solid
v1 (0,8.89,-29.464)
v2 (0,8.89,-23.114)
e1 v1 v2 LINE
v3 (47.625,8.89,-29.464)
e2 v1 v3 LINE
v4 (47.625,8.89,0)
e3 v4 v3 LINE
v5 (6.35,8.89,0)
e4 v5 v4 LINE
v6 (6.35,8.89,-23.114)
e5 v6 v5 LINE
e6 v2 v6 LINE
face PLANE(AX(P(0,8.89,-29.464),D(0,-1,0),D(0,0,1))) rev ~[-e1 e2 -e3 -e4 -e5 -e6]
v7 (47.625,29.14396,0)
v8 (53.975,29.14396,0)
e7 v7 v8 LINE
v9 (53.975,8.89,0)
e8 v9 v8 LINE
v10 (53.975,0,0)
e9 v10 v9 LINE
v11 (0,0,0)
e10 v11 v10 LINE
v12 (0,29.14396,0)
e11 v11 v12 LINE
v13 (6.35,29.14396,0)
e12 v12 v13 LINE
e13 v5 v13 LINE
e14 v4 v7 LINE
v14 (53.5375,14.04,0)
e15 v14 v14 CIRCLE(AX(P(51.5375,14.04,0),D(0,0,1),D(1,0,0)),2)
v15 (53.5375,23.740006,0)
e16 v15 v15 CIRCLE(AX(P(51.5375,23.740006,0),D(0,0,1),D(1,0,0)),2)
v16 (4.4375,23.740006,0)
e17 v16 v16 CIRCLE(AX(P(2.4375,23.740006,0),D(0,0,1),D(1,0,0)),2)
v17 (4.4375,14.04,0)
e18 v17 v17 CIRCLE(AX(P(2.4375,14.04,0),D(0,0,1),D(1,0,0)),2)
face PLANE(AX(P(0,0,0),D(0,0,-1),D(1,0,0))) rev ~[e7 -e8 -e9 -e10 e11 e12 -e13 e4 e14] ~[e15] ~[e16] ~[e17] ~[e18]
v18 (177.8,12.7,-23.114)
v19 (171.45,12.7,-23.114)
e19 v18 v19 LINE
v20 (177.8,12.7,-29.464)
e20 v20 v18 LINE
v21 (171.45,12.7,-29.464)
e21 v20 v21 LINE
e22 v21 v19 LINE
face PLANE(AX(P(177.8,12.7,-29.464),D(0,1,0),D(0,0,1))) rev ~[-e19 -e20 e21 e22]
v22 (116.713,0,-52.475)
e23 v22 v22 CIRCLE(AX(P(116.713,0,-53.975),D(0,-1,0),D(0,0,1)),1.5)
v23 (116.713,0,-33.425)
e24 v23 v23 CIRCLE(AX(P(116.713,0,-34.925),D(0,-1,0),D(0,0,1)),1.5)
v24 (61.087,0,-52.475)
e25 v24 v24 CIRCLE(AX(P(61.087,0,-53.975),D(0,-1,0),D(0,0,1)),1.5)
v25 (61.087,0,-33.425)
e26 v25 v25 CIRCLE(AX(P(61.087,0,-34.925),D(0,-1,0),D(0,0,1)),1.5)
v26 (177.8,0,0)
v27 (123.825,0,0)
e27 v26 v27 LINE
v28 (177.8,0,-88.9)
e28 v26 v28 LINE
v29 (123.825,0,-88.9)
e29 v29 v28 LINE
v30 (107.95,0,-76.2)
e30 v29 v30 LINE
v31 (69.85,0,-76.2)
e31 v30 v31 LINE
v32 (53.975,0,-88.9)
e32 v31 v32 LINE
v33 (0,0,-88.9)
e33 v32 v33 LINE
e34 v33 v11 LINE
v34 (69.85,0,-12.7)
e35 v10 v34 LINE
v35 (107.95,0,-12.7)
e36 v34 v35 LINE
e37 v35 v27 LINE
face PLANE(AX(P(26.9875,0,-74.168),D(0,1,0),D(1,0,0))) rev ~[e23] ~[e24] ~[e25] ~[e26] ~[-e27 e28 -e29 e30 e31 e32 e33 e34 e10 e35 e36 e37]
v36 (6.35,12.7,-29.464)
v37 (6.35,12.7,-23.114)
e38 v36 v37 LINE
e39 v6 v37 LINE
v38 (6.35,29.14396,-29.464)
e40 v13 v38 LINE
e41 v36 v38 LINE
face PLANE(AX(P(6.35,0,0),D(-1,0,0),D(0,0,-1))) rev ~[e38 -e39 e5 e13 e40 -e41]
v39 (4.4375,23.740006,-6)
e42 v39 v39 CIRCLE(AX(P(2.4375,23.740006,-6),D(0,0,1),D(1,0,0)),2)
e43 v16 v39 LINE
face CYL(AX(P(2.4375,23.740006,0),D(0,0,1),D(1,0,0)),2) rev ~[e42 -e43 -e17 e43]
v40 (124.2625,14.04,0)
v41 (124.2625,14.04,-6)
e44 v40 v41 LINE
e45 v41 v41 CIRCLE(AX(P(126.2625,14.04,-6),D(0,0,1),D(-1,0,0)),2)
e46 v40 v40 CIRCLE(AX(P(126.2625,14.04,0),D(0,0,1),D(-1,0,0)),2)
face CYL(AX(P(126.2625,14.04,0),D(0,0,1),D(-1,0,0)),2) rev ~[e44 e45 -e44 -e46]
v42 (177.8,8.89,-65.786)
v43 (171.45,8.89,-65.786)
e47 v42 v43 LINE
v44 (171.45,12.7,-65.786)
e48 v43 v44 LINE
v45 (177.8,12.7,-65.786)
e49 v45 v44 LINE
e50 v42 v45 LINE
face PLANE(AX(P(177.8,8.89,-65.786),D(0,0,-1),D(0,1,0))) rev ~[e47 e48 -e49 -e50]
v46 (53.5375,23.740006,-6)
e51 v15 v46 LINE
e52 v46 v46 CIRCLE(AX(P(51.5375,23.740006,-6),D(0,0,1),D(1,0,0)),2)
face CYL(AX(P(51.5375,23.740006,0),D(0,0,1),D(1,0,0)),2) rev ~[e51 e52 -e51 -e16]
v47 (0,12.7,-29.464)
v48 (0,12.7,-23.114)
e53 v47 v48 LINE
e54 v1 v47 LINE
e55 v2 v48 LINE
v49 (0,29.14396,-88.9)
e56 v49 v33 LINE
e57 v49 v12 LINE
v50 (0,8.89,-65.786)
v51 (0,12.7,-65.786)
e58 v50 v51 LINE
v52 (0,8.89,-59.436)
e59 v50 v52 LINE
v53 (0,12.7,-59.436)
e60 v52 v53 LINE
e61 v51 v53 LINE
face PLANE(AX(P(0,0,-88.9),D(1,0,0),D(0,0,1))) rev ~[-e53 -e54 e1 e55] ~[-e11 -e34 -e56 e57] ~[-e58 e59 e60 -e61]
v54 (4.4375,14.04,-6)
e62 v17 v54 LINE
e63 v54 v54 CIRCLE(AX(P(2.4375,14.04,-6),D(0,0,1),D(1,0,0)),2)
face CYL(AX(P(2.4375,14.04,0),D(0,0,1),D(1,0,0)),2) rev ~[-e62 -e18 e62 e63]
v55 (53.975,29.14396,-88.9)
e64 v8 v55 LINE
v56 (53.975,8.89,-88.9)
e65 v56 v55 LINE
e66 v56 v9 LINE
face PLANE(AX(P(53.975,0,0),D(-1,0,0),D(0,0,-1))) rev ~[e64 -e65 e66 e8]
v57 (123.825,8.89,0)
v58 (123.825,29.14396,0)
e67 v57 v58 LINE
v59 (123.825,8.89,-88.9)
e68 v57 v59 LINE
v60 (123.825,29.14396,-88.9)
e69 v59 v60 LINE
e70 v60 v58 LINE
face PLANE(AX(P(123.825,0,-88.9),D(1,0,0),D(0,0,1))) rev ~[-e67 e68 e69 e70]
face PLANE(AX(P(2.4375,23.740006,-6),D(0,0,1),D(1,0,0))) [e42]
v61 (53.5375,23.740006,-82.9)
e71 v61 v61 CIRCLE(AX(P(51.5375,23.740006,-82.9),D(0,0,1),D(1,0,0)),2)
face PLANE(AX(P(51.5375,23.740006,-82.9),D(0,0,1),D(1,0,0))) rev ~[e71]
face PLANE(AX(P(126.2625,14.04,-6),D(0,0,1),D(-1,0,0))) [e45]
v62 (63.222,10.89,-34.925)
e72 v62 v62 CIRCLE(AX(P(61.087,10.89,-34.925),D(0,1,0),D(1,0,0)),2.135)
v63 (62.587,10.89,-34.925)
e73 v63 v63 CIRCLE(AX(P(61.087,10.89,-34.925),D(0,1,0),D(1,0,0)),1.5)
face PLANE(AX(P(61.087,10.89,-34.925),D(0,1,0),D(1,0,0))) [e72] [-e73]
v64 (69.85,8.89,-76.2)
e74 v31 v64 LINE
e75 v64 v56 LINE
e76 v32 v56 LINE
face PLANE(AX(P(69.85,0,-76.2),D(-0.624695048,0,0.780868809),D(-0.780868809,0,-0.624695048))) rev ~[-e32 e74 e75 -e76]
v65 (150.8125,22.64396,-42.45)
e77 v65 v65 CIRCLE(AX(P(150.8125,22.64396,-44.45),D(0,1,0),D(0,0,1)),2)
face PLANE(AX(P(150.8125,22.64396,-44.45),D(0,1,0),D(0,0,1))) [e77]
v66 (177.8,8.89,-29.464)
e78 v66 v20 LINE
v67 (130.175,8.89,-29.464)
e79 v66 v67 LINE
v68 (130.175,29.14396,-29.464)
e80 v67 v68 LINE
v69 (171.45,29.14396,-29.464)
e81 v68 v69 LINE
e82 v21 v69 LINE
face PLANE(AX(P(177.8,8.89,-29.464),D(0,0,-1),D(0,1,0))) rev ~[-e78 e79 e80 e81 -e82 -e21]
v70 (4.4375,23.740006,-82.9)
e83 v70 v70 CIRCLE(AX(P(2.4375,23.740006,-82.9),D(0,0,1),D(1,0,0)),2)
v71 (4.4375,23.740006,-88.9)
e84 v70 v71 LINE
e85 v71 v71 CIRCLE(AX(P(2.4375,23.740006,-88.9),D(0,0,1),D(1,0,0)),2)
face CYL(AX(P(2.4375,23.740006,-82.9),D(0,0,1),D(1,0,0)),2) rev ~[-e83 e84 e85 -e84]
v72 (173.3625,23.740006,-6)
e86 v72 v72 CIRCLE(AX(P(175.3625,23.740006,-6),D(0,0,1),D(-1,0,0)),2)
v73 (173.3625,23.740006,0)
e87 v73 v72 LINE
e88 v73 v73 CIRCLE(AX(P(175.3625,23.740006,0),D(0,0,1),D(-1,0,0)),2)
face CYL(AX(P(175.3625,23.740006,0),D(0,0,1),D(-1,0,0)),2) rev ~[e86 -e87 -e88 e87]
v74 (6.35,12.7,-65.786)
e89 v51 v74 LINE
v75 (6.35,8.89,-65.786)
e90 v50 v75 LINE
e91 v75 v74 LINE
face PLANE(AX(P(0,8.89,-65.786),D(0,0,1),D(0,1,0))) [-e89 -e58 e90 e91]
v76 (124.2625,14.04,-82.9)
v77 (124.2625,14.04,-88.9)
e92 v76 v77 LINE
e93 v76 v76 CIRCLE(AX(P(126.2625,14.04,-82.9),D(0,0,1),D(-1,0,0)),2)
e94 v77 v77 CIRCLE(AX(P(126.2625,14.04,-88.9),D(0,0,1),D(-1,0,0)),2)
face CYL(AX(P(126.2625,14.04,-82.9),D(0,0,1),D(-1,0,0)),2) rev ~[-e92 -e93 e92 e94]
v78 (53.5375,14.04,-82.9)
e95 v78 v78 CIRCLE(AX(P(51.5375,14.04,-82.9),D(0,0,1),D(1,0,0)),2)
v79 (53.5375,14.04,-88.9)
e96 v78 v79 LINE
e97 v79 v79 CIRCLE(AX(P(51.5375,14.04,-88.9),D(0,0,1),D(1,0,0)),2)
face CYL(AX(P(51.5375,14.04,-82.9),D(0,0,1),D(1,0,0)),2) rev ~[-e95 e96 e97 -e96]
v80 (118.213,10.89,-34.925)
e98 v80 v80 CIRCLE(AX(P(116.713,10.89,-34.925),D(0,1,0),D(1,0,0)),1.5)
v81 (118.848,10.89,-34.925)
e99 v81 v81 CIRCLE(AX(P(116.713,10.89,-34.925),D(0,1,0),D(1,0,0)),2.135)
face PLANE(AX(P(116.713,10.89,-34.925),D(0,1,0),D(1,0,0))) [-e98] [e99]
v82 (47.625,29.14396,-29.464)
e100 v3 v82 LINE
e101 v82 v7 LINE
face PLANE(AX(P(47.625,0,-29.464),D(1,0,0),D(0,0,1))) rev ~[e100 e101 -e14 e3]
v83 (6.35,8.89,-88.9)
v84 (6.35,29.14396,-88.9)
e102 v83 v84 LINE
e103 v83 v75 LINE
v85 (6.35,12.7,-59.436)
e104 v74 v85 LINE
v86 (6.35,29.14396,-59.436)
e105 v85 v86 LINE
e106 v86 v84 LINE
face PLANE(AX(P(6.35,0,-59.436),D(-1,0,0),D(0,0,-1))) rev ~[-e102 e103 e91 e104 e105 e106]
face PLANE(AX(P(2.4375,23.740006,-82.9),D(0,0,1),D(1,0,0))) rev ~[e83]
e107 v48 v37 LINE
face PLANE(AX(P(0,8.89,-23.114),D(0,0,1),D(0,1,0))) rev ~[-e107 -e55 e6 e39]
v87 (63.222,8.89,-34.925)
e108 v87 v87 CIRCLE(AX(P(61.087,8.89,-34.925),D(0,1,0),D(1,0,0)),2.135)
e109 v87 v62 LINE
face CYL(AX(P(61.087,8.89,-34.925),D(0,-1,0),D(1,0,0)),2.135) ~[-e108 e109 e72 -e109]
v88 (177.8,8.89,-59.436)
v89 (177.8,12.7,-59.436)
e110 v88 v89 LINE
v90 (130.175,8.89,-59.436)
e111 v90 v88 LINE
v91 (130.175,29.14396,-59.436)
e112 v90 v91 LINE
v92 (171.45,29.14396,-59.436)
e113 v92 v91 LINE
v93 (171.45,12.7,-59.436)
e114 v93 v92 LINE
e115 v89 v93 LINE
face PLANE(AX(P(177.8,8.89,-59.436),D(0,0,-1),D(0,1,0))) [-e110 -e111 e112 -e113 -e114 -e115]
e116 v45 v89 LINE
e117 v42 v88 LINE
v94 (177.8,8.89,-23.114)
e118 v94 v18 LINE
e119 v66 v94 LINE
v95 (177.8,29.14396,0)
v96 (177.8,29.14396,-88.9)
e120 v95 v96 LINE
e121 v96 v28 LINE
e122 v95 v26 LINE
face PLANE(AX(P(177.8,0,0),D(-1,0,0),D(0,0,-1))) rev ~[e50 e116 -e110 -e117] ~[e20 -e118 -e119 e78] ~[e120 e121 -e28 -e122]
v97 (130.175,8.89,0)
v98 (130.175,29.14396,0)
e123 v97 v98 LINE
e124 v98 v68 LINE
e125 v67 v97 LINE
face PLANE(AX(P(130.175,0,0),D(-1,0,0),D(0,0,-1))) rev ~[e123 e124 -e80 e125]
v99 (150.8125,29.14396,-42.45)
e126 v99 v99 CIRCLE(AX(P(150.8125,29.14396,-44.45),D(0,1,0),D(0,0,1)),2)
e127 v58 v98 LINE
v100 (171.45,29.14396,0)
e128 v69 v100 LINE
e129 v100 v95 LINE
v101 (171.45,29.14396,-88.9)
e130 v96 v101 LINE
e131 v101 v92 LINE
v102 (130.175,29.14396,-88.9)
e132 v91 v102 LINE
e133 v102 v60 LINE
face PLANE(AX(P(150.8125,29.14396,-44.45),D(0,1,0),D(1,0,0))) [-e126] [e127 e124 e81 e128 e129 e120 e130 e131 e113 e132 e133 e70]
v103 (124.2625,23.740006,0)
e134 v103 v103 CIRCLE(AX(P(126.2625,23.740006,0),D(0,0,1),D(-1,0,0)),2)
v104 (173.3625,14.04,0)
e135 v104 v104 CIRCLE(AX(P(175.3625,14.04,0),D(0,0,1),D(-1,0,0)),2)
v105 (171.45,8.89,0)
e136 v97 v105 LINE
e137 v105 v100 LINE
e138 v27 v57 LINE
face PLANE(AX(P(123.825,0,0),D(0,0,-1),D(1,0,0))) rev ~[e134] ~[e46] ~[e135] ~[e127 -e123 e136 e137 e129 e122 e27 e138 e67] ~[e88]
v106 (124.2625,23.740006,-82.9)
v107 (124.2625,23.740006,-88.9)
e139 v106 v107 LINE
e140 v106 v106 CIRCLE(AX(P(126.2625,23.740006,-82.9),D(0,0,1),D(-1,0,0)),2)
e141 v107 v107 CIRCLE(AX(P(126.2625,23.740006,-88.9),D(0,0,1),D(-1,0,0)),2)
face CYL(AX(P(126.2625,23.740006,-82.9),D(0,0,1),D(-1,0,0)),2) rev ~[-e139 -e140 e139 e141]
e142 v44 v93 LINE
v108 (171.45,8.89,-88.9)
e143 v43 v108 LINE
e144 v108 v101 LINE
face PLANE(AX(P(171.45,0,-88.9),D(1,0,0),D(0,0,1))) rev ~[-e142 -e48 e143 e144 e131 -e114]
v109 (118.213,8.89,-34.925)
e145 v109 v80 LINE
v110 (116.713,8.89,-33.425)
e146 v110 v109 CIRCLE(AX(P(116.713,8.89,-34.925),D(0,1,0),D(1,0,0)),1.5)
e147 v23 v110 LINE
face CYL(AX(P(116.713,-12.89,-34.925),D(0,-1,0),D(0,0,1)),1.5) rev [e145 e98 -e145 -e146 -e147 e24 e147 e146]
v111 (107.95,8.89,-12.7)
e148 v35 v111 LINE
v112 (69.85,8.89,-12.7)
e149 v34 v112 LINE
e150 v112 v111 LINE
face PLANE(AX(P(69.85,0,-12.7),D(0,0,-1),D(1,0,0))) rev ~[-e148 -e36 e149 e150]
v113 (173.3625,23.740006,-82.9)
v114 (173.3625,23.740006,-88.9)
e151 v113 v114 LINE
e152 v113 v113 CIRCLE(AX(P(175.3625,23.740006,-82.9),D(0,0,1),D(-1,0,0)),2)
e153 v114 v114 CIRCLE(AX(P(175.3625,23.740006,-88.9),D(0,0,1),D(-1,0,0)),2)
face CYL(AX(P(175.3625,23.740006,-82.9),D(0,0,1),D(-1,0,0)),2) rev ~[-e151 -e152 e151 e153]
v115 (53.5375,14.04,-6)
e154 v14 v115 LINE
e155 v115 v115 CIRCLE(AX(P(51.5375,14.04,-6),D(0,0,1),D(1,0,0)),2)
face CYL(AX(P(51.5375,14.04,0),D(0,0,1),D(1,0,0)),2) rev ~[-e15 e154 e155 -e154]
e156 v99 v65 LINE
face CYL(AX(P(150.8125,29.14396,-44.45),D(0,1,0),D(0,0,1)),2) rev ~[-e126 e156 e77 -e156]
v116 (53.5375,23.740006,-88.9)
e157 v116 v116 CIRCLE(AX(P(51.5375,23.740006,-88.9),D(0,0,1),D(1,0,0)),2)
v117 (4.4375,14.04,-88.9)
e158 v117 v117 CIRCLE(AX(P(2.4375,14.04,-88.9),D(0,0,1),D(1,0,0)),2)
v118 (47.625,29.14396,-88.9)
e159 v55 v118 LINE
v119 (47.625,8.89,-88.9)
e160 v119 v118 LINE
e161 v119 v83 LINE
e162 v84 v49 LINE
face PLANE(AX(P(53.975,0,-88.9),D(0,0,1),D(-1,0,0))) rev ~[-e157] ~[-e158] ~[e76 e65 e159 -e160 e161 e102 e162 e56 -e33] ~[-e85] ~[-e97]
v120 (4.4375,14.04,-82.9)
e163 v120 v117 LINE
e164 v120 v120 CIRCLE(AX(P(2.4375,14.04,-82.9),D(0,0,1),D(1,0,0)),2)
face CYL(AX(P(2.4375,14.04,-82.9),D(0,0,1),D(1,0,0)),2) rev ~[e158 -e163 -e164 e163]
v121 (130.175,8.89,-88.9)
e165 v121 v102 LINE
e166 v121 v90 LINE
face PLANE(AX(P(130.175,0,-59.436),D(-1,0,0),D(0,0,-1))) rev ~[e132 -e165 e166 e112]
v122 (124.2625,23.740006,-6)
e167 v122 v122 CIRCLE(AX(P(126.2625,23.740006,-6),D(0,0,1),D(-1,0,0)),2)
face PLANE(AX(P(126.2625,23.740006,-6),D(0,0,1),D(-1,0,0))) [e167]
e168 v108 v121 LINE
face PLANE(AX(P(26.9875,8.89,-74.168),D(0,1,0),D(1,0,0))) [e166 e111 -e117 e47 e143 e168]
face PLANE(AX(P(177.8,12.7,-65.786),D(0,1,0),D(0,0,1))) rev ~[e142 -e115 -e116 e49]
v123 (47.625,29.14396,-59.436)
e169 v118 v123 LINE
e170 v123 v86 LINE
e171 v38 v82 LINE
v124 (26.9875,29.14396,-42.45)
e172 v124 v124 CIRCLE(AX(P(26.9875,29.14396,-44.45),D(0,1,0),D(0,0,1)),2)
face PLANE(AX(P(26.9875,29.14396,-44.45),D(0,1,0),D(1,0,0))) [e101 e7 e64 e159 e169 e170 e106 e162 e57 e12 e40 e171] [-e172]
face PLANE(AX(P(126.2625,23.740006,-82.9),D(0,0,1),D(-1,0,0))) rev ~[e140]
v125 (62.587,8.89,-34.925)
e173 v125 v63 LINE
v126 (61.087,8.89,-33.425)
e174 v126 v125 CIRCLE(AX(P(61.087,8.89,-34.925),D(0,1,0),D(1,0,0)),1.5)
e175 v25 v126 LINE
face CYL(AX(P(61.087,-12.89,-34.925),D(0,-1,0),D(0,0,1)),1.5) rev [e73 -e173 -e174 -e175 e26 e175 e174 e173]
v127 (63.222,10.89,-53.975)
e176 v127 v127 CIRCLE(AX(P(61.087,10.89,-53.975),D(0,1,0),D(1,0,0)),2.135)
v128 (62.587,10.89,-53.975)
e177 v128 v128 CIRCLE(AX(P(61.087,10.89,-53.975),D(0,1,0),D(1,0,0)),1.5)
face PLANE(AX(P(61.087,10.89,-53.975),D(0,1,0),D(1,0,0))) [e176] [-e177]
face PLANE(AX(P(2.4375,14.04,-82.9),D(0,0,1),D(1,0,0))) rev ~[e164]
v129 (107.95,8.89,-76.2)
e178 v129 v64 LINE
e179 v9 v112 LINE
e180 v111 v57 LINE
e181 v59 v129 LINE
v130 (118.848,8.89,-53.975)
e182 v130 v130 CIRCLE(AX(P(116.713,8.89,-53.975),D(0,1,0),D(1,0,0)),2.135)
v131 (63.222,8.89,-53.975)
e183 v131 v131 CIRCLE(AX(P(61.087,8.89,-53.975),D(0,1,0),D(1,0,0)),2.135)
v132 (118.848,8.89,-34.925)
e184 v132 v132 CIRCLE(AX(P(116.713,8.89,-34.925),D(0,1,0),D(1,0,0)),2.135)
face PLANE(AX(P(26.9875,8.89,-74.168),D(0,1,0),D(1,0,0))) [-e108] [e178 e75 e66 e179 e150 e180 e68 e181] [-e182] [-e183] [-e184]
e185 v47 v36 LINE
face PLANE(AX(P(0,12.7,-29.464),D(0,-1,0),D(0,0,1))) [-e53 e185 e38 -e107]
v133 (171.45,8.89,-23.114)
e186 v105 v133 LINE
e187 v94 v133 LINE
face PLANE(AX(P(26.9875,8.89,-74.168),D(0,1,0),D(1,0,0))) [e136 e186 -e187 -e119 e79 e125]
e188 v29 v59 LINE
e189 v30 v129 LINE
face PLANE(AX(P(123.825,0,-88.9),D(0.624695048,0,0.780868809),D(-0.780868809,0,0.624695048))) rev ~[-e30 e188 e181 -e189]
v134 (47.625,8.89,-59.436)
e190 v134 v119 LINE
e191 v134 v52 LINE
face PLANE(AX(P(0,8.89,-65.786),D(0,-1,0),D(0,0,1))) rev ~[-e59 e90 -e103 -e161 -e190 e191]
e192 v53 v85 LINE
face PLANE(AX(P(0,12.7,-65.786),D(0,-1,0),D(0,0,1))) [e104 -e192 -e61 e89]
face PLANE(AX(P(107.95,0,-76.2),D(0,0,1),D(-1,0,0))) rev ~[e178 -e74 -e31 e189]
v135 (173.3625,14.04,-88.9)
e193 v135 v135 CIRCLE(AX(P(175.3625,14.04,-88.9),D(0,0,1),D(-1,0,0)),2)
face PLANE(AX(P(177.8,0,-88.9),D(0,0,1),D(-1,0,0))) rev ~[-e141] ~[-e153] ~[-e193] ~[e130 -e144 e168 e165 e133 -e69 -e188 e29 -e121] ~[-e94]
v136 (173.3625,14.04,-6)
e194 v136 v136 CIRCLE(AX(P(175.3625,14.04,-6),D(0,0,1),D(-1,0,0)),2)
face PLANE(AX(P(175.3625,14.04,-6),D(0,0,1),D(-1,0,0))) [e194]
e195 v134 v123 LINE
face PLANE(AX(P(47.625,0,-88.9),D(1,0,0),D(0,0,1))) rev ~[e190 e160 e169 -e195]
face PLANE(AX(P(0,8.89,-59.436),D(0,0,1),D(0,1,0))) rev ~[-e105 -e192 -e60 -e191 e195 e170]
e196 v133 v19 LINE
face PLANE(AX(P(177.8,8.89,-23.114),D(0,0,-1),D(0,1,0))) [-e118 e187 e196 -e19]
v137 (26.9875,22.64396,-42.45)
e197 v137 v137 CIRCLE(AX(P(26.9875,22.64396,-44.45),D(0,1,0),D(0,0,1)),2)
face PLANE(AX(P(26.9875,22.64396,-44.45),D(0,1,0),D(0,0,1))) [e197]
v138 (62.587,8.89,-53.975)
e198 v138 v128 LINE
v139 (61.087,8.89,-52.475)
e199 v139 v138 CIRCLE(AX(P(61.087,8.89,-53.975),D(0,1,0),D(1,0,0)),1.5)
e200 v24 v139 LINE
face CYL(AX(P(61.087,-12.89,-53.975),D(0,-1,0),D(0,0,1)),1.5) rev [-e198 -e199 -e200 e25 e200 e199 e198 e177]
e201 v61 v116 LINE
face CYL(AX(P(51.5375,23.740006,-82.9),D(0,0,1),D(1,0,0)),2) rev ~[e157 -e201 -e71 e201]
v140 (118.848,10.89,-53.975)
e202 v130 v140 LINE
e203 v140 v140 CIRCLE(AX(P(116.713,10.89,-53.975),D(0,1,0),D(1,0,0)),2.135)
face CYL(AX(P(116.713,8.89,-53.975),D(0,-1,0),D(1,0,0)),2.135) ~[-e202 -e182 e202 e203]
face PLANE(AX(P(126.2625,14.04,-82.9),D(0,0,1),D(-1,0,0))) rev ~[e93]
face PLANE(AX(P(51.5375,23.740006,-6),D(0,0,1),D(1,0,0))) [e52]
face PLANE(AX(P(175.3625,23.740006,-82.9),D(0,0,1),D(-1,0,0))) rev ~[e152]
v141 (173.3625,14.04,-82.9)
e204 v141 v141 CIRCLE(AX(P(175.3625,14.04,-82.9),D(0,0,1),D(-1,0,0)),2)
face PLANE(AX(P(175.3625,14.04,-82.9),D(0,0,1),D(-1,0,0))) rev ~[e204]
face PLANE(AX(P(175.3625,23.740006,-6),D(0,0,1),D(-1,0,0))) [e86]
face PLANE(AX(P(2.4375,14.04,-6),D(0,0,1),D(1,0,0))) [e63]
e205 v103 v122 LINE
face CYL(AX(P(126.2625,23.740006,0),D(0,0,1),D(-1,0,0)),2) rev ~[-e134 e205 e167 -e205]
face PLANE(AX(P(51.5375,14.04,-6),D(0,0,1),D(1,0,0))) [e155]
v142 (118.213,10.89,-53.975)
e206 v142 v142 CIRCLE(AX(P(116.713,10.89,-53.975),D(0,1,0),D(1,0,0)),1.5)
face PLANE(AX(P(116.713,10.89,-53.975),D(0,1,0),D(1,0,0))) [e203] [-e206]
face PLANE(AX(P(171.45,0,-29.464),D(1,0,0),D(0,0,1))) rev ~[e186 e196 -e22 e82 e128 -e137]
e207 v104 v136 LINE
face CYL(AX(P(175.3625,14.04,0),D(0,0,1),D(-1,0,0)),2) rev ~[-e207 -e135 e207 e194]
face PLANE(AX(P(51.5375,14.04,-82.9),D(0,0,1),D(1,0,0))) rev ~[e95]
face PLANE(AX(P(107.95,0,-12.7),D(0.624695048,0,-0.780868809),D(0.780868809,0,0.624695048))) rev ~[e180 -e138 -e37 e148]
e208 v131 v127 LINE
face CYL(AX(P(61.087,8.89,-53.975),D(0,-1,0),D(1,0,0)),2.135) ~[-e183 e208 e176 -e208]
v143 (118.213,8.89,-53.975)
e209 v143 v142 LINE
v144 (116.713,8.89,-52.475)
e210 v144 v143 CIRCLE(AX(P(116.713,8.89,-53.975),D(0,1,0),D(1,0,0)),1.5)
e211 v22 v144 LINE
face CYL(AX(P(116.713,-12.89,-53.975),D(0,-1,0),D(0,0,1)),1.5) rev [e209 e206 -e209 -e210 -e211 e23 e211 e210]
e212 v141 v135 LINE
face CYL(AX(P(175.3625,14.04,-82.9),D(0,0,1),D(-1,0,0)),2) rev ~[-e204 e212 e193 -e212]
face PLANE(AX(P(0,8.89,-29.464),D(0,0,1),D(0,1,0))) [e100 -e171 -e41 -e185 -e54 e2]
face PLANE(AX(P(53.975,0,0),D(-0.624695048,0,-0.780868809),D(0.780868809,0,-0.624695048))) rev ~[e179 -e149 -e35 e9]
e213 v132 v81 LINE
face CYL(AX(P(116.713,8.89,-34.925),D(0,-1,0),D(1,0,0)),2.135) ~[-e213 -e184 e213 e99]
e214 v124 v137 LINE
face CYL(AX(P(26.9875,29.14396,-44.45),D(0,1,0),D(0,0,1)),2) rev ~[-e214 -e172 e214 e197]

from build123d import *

# Parameters (mm, degrees)
SKETCH2_W           = 41.275
SKETCH2_H           = 29.464
BOSS_EXTRUDE1_DEPTH = 8.89
BOSS_EXTRUDE2_DEPTH = 29.14396
SKETCH6_R           = 2
CUT_EXTRUDE1_DEPTH  = 6.5
SKETCH7_R           = 2
CUT_EXTRUDE2_DEPTH  = 6
SKETCH8_R           = 2.135
SKETCH8_R_2         = 1.5
EXTRUDE_THIN1_DEPTH = 2
CUT_EXTRUDE3_START  = -21.78
SKETCH8_3_R         = 1.5
CUT_EXTRUDE3_DEPTH  = 21.78
CUT_EXTRUDE4_START  = -82.9
SKETCH7_2_R         = 2
CUT_EXTRUDE4_DEPTH  = 6
SKETCH9_W           = 6.35
SKETCH9_H           = 3.81
CUT_EXTRUDE5_DEPTH  = 6.35
CUT_EXTRUDE6_START  = -177.8
SKETCH9_2_W         = 6.35
SKETCH9_2_H         = 3.81
CUT_EXTRUDE6_DEPTH  = 6.35


with BuildPart() as part:
    # Sketch2 → Boss-Extrude1 (new body)
    with BuildSketch(Plane(origin=(0, 0, 0), x_dir=(1, 0, 0), z_dir=(0, 1, 0))):
        with Locations((26.9875, 74.168)):
            Rectangle(SKETCH2_W, SKETCH2_H)
        with Locations((26.9875, 14.732)):
            Rectangle(SKETCH2_W, SKETCH2_H)
        Polygon((0, 88.9), (0, 0), (6.35, 0), (6.35, 29.464), (47.625, 29.464), (47.625, 0), (53.975, 0), (53.975, 12.7), (53.975, 76.2), (53.975, 88.9), (47.625, 88.9), (47.625, 59.436), (6.35, 59.436), (6.35, 88.9), align=None)
        Polygon((53.975, 12.7), (69.85, 12.7), (107.95, 12.7), (123.825, 12.7), (123.825, 76.2), (107.95, 76.2), (69.85, 76.2), (53.975, 76.2), align=None)
        Polygon((53.975, 12.7), (53.975, 0), (69.85, 12.7), align=None)
        Polygon((107.95, 12.7), (123.825, 0), (123.825, 12.7), align=None)
        Polygon((123.825, 12.7), (123.825, 0), (130.175, 0), (130.175, 29.464), (171.45, 29.464), (171.45, 0), (177.8, 0), (177.8, 88.9), (171.45, 88.9), (171.45, 59.436), (130.175, 59.436), (130.175, 88.9), (123.825, 88.9), (123.825, 76.2), align=None)
        with Locations((150.8125, 14.732)):
            Rectangle(SKETCH2_W, SKETCH2_H)
        with Locations((150.8125, 74.168)):
            Rectangle(SKETCH2_W, SKETCH2_H)
        Polygon((123.825, 76.2), (123.825, 88.9), (107.95, 76.2), align=None)
        Polygon((69.85, 76.2), (53.975, 88.9), (53.975, 76.2), align=None)
    extrude(amount=BOSS_EXTRUDE1_DEPTH)

    # Sketch2<3> → Boss-Extrude2 (add)
    with BuildSketch(Plane(origin=(0, 0, 0), x_dir=(1, 0, 0), z_dir=(0, 1, 0))):
        Polygon((0, 88.9), (0, 0), (6.35, 0), (6.35, 29.464), (47.625, 29.464), (47.625, 0), (53.975, 0), (53.975, 12.7), (53.975, 76.2), (53.975, 88.9), (47.625, 88.9), (47.625, 59.436), (6.35, 59.436), (6.35, 88.9), align=None)
        Polygon((123.825, 12.7), (123.825, 0), (130.175, 0), (130.175, 29.464), (171.45, 29.464), (171.45, 0), (177.8, 0), (177.8, 88.9), (171.45, 88.9), (171.45, 59.436), (130.175, 59.436), (130.175, 88.9), (123.825, 88.9), (123.825, 76.2), align=None)
    extrude(amount=BOSS_EXTRUDE2_DEPTH)

    # Sketch6 → Cut-Extrude1 (cut)
    with BuildSketch(Plane(origin=(0, 29.14396, 0), x_dir=(1, 0, 0), z_dir=(0, 1, 0))):
        with Locations(Location((26.9875, 44.45, 0), (0, 0, 270))):
            Circle(SKETCH6_R)
        with Locations(Location((150.8125, 44.45, 0), (0, 0, 270))):
            Circle(SKETCH6_R)
    extrude(amount=-CUT_EXTRUDE1_DEPTH, mode=Mode.SUBTRACT)

    # Sketch7 → Cut-Extrude2 (cut)
    with BuildSketch(Plane.XY):
        with Locations((2.4375, 14.04)):
            Circle(SKETCH7_R)
        with Locations((51.5375, 14.04)):
            Circle(SKETCH7_R)
        with Locations((2.4375, 23.740006)):
            Circle(SKETCH7_R)
        with Locations((51.5375, 23.740006)):
            Circle(SKETCH7_R)
        with Locations(Location((126.2625, 23.740006, 0), (0, 0, 180))):
            Circle(SKETCH7_R)
        with Locations(Location((175.3625, 23.740006, 0), (0, 0, 180))):
            Circle(SKETCH7_R)
        with Locations(Location((126.2625, 14.04, 0), (0, 0, 180))):
            Circle(SKETCH7_R)
        with Locations(Location((175.3625, 14.04, 0), (0, 0, 180))):
            Circle(SKETCH7_R)
    extrude(amount=-CUT_EXTRUDE2_DEPTH, mode=Mode.SUBTRACT)

    # Sketch8 → Extrude-Thin1 (add)
    # profile 1 of 4: a face of its own
    with BuildSketch(Plane(origin=(0, 8.89, 0), x_dir=(1, 0, 0), z_dir=(0, 1, 0))):
        with Locations((61.087, 53.975)):
            Circle(SKETCH8_R)
        with Locations((61.087, 53.975)):
            Circle(SKETCH8_R_2, mode=Mode.SUBTRACT)
    # profile 2 of 4: a face of its own
    with BuildSketch(Plane(origin=(0, 8.89, 0), x_dir=(1, 0, 0), z_dir=(0, 1, 0))):
        with Locations((61.087, 34.925)):
            Circle(SKETCH8_R)
        with Locations((61.087, 34.925)):
            Circle(SKETCH8_R_2, mode=Mode.SUBTRACT)
    # profile 3 of 4: a face of its own
    with BuildSketch(Plane(origin=(0, 8.89, 0), x_dir=(1, 0, 0), z_dir=(0, 1, 0))):
        with Locations((116.713, 34.925)):
            Circle(SKETCH8_R)
        with Locations((116.713, 34.925)):
            Circle(SKETCH8_R_2, mode=Mode.SUBTRACT)
    # profile 4 of 4: a face of its own
    with BuildSketch(Plane(origin=(0, 8.89, 0), x_dir=(1, 0, 0), z_dir=(0, 1, 0))):
        with Locations((116.713, 53.975)):
            Circle(SKETCH8_R)
        with Locations((116.713, 53.975)):
            Circle(SKETCH8_R_2, mode=Mode.SUBTRACT)
    extrude(amount=EXTRUDE_THIN1_DEPTH)

    # Sketch8<3> → Cut-Extrude3 (cut)
    with BuildSketch(Plane(origin=(0, 8.89, 0), x_dir=(1, 0, 0), z_dir=(0, 1, 0)).offset(CUT_EXTRUDE3_START)):
        with Locations(Location((61.087, 53.975, 0), (0, 0, 270))):
            Circle(SKETCH8_3_R)
        with Locations(Location((61.087, 34.925, 0), (0, 0, 270))):
            Circle(SKETCH8_3_R)
        with Locations(Location((116.713, 34.925, 0), (0, 0, 270))):
            Circle(SKETCH8_3_R)
        with Locations(Location((116.713, 53.975, 0), (0, 0, 270))):
            Circle(SKETCH8_3_R)
    extrude(amount=CUT_EXTRUDE3_DEPTH, mode=Mode.SUBTRACT)

    # Sketch7<2> → Cut-Extrude4 (cut)
    with BuildSketch(Plane.XY.offset(CUT_EXTRUDE4_START)):
        with Locations((2.4375, 14.04)):
            Circle(SKETCH7_2_R)
        with Locations((51.5375, 14.04)):
            Circle(SKETCH7_2_R)
        with Locations((2.4375, 23.740006)):
            Circle(SKETCH7_2_R)
        with Locations((51.5375, 23.740006)):
            Circle(SKETCH7_2_R)
        with Locations(Location((126.2625, 23.740006, 0), (0, 0, 180))):
            Circle(SKETCH7_2_R)
        with Locations(Location((175.3625, 23.740006, 0), (0, 0, 180))):
            Circle(SKETCH7_2_R)
        with Locations(Location((126.2625, 14.04, 0), (0, 0, 180))):
            Circle(SKETCH7_2_R)
        with Locations(Location((175.3625, 14.04, 0), (0, 0, 180))):
            Circle(SKETCH7_2_R)
    extrude(amount=-CUT_EXTRUDE4_DEPTH, mode=Mode.SUBTRACT)

    # Sketch9 → Cut-Extrude5 (cut)
    with BuildSketch(Plane.ZY):
        with Locations((-26.289, 10.795)):
            Rectangle(SKETCH9_W, SKETCH9_H)
        with Locations((-62.611, 10.795)):
            Rectangle(SKETCH9_W, SKETCH9_H)
    extrude(amount=-CUT_EXTRUDE5_DEPTH, mode=Mode.SUBTRACT)

    # Sketch9<2> → Cut-Extrude6 (cut)
    with BuildSketch(Plane.ZY.offset(CUT_EXTRUDE6_START)):
        with Locations((-26.289, 10.795)):
            Rectangle(SKETCH9_2_W, SKETCH9_2_H)
        with Locations((-62.611, 10.795)):
            Rectangle(SKETCH9_2_W, SKETCH9_2_H)
    extrude(amount=CUT_EXTRUDE6_DEPTH, mode=Mode.SUBTRACT)


solid = part.part
